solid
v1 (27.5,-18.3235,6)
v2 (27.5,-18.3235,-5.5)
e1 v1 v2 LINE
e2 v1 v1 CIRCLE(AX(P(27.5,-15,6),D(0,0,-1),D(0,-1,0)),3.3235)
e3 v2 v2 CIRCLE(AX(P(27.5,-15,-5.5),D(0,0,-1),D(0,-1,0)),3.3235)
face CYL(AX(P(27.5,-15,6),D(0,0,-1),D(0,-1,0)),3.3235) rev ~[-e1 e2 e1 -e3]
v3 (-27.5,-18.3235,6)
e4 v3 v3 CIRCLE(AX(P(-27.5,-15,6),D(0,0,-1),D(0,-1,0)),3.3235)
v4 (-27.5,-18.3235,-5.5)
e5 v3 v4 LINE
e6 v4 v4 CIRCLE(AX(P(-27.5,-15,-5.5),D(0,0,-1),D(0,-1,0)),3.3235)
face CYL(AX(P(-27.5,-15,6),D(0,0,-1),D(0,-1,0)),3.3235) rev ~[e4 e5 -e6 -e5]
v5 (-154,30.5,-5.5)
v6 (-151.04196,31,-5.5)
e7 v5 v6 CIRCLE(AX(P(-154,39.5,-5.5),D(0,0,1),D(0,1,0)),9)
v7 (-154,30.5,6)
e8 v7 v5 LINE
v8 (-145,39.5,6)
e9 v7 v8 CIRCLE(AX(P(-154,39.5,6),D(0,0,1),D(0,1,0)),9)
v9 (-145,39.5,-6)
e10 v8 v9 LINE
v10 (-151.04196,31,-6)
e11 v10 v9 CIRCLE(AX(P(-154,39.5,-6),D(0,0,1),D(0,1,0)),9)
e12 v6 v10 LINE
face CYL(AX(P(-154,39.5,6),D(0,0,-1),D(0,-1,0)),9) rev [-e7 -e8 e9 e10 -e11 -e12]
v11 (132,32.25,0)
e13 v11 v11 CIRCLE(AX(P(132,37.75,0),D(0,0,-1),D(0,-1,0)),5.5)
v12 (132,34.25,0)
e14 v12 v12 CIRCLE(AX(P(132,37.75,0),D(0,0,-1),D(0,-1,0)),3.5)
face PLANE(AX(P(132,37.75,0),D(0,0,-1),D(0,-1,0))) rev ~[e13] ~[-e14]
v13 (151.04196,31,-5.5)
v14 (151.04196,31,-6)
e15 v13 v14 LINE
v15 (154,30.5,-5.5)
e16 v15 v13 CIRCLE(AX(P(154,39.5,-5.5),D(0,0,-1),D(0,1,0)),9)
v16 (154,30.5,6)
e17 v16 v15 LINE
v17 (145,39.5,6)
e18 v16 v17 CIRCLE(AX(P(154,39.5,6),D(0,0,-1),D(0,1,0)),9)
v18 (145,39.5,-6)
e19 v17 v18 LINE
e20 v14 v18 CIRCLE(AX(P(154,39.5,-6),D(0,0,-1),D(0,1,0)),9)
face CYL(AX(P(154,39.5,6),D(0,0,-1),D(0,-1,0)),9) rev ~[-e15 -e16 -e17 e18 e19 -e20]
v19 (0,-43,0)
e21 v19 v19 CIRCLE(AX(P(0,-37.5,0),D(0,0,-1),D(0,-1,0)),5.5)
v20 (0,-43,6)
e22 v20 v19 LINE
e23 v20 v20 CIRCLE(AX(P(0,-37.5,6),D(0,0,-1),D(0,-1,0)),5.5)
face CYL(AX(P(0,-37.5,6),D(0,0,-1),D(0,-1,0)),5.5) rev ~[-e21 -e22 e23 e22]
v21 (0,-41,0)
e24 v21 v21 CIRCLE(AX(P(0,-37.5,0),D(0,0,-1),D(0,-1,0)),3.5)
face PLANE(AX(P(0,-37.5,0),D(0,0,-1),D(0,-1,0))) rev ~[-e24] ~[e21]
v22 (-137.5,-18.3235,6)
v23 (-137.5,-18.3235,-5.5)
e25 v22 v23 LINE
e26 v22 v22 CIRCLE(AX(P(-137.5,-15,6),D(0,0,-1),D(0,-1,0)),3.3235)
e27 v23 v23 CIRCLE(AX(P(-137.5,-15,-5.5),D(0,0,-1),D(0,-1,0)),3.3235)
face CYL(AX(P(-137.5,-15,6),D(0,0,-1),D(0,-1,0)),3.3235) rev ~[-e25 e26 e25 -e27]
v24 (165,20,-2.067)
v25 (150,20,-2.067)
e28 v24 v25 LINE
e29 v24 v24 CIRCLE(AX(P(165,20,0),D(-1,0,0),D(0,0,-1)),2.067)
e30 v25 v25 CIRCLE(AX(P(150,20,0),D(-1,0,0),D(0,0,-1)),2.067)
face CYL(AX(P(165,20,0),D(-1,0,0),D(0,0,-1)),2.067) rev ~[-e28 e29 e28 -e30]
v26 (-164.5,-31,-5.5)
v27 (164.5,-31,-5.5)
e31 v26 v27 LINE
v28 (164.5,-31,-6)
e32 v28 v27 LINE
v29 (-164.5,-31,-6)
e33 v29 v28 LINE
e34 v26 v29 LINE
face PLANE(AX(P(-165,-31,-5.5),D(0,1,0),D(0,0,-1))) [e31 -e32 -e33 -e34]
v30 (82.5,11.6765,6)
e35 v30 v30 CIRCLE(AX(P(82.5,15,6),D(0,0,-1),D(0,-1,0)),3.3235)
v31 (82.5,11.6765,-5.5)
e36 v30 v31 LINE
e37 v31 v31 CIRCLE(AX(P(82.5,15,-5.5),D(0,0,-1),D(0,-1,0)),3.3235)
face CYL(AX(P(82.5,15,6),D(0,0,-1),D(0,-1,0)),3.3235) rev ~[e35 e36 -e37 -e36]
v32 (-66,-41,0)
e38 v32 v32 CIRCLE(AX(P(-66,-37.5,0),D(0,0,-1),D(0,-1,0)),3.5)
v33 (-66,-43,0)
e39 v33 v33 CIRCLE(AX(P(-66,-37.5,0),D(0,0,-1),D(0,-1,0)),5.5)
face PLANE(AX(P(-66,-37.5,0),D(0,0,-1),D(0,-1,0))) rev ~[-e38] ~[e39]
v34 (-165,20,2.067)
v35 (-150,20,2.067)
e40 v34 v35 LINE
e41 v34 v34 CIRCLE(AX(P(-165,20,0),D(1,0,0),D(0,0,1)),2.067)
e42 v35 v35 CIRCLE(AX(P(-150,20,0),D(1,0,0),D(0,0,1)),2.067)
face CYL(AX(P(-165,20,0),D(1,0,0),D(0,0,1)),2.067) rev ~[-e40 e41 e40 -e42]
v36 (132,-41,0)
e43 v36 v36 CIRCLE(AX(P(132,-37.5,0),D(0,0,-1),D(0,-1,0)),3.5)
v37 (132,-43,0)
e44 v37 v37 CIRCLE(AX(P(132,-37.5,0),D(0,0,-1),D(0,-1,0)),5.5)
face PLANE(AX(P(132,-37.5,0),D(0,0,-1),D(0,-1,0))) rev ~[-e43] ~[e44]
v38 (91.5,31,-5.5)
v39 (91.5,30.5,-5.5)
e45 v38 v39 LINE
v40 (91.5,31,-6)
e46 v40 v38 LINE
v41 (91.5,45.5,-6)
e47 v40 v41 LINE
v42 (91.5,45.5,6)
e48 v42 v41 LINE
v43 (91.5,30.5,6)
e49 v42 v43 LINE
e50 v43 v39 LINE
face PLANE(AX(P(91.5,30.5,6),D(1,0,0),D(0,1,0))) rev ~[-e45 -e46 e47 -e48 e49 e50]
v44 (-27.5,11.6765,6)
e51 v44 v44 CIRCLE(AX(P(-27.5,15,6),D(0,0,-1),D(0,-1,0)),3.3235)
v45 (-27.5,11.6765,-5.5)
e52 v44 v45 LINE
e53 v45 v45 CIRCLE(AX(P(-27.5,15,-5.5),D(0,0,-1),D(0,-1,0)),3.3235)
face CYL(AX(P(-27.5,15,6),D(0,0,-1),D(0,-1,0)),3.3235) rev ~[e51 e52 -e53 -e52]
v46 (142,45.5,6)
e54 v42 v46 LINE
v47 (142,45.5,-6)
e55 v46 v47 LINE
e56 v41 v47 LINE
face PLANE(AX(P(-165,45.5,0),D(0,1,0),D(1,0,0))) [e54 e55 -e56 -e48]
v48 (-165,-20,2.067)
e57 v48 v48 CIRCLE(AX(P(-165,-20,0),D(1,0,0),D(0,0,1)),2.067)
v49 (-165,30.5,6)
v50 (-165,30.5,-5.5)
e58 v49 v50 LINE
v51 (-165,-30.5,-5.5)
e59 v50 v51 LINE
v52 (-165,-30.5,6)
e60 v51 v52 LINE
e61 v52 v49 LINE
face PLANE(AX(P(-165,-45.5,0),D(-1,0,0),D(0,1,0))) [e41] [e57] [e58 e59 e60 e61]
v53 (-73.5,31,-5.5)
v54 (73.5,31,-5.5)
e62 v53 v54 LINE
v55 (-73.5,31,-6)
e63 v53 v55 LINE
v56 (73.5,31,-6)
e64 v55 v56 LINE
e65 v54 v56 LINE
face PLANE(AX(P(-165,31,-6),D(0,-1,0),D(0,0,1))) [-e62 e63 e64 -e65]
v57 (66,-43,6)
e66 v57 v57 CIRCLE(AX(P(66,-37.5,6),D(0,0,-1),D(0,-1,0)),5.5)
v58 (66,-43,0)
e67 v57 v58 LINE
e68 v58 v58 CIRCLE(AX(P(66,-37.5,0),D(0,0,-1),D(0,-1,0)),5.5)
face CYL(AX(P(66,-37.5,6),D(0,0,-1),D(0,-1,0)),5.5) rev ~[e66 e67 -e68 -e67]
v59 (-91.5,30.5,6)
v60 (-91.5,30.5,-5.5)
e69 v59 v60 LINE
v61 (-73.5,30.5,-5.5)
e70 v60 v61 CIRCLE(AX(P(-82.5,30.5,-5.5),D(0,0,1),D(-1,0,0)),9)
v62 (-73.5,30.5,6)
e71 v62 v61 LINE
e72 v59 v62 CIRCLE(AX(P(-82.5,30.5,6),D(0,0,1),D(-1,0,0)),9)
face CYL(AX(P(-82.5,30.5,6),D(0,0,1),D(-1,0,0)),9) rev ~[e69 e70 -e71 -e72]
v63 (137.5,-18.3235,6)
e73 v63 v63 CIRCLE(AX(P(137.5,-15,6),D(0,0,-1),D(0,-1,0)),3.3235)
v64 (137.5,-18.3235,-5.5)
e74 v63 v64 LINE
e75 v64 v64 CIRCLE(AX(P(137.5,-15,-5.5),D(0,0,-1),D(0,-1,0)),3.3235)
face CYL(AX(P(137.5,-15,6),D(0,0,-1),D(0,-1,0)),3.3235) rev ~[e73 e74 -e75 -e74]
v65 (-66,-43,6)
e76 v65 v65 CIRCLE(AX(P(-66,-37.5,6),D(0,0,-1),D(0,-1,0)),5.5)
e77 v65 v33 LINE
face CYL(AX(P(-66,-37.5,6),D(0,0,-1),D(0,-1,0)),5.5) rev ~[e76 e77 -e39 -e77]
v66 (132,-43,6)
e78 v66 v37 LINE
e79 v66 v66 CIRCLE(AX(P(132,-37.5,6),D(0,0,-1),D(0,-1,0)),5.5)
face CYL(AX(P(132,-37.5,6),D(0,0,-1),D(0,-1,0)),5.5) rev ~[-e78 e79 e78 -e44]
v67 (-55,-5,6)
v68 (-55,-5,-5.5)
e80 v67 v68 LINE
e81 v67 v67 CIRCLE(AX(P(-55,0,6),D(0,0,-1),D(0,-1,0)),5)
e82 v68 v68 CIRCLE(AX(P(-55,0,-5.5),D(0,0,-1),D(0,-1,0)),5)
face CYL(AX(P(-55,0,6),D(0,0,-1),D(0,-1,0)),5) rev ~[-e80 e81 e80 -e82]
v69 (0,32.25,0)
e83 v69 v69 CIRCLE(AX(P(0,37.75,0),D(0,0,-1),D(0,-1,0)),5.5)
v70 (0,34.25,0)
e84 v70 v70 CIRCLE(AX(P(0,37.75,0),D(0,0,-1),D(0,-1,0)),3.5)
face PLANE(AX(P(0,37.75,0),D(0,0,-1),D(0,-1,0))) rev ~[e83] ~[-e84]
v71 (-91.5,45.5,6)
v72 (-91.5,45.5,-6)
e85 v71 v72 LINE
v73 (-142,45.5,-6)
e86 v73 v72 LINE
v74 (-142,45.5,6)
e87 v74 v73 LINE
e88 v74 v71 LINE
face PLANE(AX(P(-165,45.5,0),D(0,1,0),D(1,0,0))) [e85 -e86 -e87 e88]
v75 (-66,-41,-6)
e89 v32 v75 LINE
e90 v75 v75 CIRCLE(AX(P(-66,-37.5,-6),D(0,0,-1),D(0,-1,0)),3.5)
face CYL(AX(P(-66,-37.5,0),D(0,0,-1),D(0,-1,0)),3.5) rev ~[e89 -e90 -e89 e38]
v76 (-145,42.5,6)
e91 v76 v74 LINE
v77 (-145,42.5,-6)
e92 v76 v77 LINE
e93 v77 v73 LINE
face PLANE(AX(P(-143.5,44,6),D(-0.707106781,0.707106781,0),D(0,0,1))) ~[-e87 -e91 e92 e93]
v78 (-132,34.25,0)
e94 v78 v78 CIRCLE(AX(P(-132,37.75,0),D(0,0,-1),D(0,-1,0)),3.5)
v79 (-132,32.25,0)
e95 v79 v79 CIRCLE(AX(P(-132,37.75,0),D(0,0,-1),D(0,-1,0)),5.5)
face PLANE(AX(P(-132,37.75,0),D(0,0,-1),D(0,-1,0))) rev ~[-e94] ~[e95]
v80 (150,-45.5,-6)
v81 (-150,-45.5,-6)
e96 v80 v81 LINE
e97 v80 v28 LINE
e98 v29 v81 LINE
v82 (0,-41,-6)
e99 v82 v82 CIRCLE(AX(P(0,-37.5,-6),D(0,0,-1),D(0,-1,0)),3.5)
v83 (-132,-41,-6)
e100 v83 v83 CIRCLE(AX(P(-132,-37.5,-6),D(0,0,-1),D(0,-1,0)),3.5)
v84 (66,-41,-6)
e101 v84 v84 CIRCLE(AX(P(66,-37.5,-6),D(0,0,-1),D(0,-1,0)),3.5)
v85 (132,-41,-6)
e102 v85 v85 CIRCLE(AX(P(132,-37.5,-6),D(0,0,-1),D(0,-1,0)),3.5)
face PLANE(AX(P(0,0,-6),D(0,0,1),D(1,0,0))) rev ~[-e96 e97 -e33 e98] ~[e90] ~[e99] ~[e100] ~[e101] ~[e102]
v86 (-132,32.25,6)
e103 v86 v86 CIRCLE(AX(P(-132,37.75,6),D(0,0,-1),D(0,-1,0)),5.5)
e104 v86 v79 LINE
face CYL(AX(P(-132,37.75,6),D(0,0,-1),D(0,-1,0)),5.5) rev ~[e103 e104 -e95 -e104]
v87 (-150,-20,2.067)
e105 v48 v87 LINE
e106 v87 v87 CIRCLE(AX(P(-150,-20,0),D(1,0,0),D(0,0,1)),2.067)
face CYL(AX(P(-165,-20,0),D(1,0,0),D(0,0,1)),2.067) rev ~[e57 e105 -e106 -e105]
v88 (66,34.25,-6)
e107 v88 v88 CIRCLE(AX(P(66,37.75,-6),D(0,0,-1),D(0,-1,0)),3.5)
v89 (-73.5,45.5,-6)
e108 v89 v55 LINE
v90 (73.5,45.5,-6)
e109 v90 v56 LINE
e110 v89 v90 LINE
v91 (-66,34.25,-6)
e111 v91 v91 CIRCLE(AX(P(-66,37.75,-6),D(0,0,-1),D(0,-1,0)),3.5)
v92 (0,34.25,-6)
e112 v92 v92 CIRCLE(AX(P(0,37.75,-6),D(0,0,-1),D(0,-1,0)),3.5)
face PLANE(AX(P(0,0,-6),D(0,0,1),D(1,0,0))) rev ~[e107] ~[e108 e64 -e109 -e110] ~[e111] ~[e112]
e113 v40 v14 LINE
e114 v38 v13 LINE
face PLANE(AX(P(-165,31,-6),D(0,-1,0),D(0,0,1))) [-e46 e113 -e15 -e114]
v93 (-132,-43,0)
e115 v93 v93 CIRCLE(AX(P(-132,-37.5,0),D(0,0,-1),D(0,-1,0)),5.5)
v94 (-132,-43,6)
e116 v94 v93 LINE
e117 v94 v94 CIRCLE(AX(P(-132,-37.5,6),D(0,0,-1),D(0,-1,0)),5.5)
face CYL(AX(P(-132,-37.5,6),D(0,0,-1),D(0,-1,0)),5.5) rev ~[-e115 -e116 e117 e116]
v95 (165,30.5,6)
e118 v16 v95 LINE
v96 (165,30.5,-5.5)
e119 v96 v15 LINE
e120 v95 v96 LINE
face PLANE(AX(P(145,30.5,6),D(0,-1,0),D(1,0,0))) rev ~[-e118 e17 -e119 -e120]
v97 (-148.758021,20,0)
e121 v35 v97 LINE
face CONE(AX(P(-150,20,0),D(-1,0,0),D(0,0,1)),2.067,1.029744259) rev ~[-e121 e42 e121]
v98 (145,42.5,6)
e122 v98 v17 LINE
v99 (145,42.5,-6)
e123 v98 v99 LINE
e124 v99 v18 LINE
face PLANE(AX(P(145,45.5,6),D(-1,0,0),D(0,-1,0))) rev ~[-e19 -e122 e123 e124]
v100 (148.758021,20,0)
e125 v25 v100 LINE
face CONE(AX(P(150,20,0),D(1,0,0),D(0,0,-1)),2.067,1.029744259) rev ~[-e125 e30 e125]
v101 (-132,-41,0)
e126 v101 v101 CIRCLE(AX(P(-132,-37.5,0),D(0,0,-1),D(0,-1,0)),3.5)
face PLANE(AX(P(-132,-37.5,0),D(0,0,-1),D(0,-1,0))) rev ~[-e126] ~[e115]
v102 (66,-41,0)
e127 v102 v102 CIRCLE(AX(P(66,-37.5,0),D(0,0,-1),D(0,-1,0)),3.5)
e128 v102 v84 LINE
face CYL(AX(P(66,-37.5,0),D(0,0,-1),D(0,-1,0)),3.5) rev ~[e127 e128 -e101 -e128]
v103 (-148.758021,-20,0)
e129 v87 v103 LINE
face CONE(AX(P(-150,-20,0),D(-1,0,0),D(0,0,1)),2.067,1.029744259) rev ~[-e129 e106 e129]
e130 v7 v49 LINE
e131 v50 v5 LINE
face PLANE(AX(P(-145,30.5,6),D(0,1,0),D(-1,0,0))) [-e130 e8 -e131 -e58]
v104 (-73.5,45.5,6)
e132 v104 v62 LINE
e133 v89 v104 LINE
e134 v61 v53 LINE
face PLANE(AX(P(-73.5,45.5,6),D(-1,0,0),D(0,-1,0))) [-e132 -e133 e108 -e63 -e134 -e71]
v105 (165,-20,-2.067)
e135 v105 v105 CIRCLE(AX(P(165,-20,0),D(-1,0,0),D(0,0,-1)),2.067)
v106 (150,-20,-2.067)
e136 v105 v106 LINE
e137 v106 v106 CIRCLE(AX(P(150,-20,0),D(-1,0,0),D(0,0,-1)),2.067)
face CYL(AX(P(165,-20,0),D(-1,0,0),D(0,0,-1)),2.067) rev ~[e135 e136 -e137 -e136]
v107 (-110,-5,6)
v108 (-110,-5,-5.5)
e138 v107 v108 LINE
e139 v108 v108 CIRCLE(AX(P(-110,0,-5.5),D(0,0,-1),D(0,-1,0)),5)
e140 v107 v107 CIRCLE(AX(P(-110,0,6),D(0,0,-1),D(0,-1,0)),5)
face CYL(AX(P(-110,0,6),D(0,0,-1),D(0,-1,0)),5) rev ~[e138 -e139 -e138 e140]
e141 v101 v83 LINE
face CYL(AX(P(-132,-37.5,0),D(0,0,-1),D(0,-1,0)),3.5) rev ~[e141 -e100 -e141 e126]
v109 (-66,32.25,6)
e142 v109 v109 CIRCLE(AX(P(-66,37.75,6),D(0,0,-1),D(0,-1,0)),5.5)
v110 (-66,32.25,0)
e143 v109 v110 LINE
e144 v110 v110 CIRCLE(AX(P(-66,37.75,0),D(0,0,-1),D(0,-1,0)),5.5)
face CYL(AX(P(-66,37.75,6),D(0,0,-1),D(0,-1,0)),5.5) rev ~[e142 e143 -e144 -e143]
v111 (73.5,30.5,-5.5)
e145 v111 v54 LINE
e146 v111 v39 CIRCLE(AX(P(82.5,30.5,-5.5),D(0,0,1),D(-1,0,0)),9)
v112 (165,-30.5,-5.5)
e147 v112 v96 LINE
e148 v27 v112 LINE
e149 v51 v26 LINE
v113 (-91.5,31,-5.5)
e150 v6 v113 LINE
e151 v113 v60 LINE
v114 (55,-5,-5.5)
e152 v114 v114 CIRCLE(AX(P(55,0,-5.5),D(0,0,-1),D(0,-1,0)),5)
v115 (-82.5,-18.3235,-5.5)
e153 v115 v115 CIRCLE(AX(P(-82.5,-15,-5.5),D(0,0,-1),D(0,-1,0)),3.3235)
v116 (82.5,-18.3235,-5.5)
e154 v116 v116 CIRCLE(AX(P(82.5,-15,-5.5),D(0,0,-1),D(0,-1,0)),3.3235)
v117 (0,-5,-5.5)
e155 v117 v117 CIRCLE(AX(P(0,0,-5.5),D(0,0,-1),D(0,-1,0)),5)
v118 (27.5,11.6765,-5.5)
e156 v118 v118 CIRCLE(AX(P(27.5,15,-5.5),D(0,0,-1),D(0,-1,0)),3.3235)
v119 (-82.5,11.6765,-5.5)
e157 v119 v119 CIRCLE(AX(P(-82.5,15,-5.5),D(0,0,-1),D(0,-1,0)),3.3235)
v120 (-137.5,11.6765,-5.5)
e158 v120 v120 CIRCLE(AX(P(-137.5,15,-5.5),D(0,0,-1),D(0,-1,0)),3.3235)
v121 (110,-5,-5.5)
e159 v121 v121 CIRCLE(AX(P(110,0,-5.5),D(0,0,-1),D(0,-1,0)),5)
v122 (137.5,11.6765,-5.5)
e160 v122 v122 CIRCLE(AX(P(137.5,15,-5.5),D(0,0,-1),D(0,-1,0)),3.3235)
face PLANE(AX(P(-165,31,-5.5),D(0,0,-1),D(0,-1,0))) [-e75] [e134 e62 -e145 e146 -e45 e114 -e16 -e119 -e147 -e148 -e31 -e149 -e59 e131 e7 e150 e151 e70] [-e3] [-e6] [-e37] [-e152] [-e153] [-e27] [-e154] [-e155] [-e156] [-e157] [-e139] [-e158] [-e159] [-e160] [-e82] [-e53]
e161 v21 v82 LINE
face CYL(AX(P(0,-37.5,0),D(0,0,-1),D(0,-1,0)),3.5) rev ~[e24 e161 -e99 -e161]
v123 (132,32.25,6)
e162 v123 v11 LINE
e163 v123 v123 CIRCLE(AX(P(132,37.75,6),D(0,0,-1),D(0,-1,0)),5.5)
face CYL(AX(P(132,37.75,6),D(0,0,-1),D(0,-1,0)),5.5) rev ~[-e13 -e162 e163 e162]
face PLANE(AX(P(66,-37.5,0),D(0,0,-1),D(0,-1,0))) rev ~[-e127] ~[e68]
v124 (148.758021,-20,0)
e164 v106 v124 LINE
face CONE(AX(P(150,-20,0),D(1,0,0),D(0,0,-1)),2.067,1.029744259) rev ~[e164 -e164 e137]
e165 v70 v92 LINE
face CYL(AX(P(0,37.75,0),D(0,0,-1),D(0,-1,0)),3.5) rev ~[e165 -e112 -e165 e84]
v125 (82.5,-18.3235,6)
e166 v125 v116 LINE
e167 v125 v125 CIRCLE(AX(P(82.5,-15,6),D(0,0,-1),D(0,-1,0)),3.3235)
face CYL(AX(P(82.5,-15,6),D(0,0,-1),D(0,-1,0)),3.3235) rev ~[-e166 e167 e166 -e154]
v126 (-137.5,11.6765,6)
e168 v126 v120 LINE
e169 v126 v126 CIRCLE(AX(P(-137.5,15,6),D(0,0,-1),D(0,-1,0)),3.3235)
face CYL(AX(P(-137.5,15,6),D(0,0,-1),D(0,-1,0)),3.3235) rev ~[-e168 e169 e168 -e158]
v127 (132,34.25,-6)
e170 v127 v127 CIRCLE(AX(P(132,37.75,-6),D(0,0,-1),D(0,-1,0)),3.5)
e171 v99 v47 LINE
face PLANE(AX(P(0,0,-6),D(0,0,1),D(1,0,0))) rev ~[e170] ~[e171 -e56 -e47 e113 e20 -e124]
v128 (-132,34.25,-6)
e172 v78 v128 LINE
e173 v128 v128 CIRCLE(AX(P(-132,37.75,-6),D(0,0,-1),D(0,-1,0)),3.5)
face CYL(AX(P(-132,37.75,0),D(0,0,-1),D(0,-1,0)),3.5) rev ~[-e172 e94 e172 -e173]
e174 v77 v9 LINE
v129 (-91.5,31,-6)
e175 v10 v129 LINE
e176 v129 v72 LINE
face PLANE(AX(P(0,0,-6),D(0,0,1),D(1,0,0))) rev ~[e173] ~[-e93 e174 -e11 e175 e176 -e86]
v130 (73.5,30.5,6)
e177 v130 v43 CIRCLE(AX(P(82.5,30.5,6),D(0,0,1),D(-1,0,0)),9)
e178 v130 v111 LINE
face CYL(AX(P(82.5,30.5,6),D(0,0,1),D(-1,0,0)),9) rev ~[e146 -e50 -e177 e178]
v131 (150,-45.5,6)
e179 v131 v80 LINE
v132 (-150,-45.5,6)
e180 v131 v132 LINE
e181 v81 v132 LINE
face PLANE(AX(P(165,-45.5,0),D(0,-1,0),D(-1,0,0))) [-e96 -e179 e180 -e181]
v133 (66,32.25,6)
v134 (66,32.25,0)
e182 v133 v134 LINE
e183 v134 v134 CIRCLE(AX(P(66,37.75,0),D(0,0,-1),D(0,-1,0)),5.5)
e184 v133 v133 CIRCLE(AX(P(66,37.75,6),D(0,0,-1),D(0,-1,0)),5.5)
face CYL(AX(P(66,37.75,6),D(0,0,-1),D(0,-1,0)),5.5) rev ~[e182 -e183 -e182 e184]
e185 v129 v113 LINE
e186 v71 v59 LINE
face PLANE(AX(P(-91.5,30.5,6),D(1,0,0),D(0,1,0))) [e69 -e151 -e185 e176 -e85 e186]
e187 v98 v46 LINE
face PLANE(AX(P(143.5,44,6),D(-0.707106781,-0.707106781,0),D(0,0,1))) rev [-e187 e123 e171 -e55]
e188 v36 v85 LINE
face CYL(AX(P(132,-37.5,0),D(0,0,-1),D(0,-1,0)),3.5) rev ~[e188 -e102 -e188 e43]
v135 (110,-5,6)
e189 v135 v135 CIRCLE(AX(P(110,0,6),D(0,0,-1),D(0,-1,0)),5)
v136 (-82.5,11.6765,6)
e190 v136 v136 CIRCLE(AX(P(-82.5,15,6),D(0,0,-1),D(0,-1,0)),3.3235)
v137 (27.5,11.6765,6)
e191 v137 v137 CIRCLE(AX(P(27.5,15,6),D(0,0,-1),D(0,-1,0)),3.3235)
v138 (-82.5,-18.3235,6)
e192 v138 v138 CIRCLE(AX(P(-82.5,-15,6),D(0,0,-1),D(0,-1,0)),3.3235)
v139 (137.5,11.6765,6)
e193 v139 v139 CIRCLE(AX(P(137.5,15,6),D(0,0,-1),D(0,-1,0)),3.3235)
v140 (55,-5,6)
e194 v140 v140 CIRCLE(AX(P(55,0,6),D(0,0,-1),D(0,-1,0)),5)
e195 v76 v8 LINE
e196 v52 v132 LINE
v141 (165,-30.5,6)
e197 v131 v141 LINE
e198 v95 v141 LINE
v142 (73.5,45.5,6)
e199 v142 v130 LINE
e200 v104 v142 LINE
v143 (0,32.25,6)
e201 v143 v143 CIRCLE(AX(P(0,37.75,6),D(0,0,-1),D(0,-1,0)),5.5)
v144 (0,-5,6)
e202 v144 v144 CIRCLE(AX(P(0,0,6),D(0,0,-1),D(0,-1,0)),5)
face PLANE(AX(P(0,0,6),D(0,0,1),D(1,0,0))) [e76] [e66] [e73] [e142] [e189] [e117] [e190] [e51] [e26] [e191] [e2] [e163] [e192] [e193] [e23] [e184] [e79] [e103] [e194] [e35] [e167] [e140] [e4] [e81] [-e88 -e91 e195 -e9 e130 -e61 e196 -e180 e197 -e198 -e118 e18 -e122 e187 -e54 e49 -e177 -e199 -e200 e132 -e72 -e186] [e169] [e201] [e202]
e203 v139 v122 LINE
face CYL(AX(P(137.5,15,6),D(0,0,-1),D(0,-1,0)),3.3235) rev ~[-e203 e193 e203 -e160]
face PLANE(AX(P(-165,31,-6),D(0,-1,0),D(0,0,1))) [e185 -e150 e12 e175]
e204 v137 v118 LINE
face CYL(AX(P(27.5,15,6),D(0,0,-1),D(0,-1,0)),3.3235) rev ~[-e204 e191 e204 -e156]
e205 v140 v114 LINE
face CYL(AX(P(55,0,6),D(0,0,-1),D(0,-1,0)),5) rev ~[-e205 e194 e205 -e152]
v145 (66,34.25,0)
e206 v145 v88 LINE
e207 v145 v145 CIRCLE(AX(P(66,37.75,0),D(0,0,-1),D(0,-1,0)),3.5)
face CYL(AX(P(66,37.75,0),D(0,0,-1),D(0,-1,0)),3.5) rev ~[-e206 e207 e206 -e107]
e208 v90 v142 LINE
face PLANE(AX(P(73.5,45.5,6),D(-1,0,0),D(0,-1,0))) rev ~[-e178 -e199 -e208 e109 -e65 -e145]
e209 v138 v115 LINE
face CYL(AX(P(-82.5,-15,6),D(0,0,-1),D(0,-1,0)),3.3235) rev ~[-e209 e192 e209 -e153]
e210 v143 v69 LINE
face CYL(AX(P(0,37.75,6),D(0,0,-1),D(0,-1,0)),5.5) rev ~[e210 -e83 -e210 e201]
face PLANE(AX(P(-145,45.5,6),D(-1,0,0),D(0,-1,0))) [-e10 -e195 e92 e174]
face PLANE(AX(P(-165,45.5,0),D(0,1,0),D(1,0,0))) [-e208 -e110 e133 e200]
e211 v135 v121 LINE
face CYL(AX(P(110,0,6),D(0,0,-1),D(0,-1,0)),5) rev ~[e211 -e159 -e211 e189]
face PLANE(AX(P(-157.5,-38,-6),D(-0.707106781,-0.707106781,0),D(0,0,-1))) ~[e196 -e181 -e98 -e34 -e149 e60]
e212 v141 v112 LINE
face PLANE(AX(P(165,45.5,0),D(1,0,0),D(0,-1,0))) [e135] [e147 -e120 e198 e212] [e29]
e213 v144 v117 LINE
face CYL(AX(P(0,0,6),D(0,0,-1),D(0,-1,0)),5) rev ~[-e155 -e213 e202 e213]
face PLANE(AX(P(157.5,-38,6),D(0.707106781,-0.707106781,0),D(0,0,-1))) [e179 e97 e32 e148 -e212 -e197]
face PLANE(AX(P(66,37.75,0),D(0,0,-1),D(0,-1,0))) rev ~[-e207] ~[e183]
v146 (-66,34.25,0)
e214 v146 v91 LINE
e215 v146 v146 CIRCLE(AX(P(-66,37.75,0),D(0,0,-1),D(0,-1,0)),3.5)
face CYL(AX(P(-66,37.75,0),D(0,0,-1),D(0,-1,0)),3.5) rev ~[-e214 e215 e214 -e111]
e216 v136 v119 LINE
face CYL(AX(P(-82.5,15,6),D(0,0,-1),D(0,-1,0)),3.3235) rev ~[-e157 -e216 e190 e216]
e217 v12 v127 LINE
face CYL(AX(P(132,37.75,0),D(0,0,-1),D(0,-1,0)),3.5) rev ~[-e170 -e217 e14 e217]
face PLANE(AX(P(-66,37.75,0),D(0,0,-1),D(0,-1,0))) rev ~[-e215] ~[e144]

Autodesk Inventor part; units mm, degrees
ref_plane "YZ Plane" through (0, 0, 0) normal (1, 0, 0) x (0, 1, 0)
ref_plane "XZ Plane" through (0, 0, 0) normal (0, 1, 0) x (-1, 0, 0)
ref_plane "XY Plane" through (0, 0, 0) normal (0, 0, 1) x (1, 0, 0)
sketch "Sketch5" plane through (0, 0, 0) normal (0, 0, 1) x (1, 0, 0)
  line L0 (-165, 45.5) -> (165, 45.5)
  line L1 (165, 45.5) -> (165, -45.5)
  line L2 (165, -45.5) -> (-165, -45.5)
  line L3 (-165, -45.5) -> (-165, 45.5)
  point P0 (0, 0)
  point P1 (0, 45.5)
  point P2 (165, 0)
  dimension "d8" = 330
  dimension "d9" = 91
extrude "Extrusion5" add sketch "Sketch5" along normal mid plane 12
sketch "Sketch6" plane through (0, 0, 6) normal (0, 0, 1) x (1, 0, 0)
  circle A0 centre (132, -37.5) radius 3
  circle A1 centre (66, -37.5) radius 3
  circle A2 centre (-66, -37.5) radius 3
  circle A3 centre (-132, -37.5) radius 3
  circle A4 centre (0, -37.5) radius 3
  circle A5 centre (132, 37.75) radius 3
  circle A6 centre (66, 37.75) radius 3
  circle A7 centre (-66, 37.75) radius 3
  circle A8 centre (-132, 37.75) radius 3
  circle A9 centre (0, 37.75) radius 3
  line L0 (165, 45.5) -> (-165, 45.5) projected
  circle A10 centre (132, -37.5) radius 5
  point P0 (-165, -45.5)
  point P1 (0, 0)
  dimension "d12" = 66
  dimension "d13" = 66
  dimension "d14" = 66
  dimension "d17" = 6
  dimension "d20" = 66
  dimension "d22" = 66
  dimension "d23" = 66
  dimension "d24" = 66
  dimension "d25" = 6
  dimension "d26" = 66
  dimension "d27" = 75.25
  dimension "d64" = 7.75
  dimension "d65" = 91
  dimension "d103" = 10
hole "Hole1" at (-132, 37.75, 6) at (132, 37.75, 6) at (66, 37.75, 6) at (0, 37.75, 6) at (-66, 37.75, 6) at (132, -37.5, 6) at (66, -37.5, 6) at (0, -37.5, 6) at (-66, -37.5, 6) at (-132, -37.5, 6) direction (0, 0, -1) diameter 7 end through all counterbore diameter 11 counterbore depth 6 clearance for "Socket Head Cap Screw DIN EN ISO 4762" size "M6" standard "DIN"
sketch "Sketch7" plane through (0, 0, 6) normal (0, 0, 1) x (1, 0, 0)
  line L0 (-165, 45.5) -> (-165, -45.5) projected
  line L1 (-165, -45.5) -> (165, -45.5) projected
  line L2 (165, -45.5) -> (165, 45.5) projected
  circle A0 centre (137.5, -15) radius 4
  circle A1 centre (137.5, 15) radius 4
  circle A2 centre (82.5, -15) radius 4
  circle A3 centre (82.5, 15) radius 4
  circle A4 centre (27.5, -15) radius 4
  circle A5 centre (27.5, 15) radius 4
  circle A6 centre (-27.5, -15) radius 4
  circle A7 centre (-27.5, 15) radius 4
  circle A8 centre (-82.5, -15) radius 4
  circle A9 centre (-82.5, 15) radius 4
  circle A10 centre (-137.5, -15) radius 4
  circle A11 centre (-137.5, 15) radius 4
  point P0 (0, 0)
  dimension "d35" = 27.5
  dimension "d36" = 30
  dimension "d37" = 15
  dimension "d38" = 8
  dimension "d41" = 55
  dimension "d46" = 27.5
hole "Hole2" at (137.5, -15, 6) at (137.5, 15, 6) at (82.5, 15, 6) at (82.5, -15, 6) at (27.5, -15, 6) at (27.5, 15, 6) at (-27.5, 15, 6) at (-27.5, -15, 6) at (-82.5, -15, 6) at (-82.5, 15, 6) at (-137.5, 15, 6) at (-137.5, -15, 6) direction (0, 0, -1) diameter 6.647 end through all thread size "M8x1.25" class "6H" standard "ISO Metric profile"
sketch "Sketch8" plane through (-165, -45.5, 6) normal (-1, 0, 0) x (0, 0, 1)
  line L0 (-12, 0) -> (-12, 91) projected
  line L1 (-11.5, 14.5) -> (-12, 14.5)
  line L2 (-12, 14.5) -> (-12, 76.5)
  line L3 (-12, 76.5) -> (-11.5, 76.5)
  line L4 (-11.5, 76.5) -> (-11.5, 14.5)
  point P0 (-6, 45.5)
  point P1 (-11.5, 45.5)
  dimension "d54" = 0.5
  dimension "d55" = 62
extrude "Extrusion6" cut sketch "Sketch8" against normal through all
sketch "Sketch9" plane through (0, 0, 6) normal (0, 0, 1) x (1, 0, 0)
  circle A0 centre (66, 37.75) radius 3.5
  line L0 (165, 45.5) -> (-165, 45.5)
  line L1 (82.5, 30.5) -> (82.5, 60.5) construction
  line L2 (91.5, 30.5) -> (91.5, 60.5)
  line L3 (73.5, 60.5) -> (73.5, 30.5)
  arc A1 (73.5, 30.5) -> (91.5, 30.5) centre (82.5, 30.5) ccw
  arc A2 (91.5, 60.5) -> (73.5, 60.5) centre (82.5, 60.5) ccw
  line L4 (0, 0) -> (0, 10.6364) construction
  line L5 (0, 0) -> (-13.5916, 0) construction
  line L6 (-82.5, 30.5) -> (-82.5, 60.5) construction
  line L7 (-91.5, 30.5) -> (-91.5, 60.5)
  line L8 (-73.5, 60.5) -> (-73.5, 30.5)
  arc A3 (-91.5, 30.5) -> (-73.5, 30.5) centre (-82.5, 30.5) ccw
  arc A4 (-73.5, 60.5) -> (-91.5, 60.5) centre (-82.5, 60.5) ccw
  circle A5 centre (-137.5, 15) radius 3.3235 projected
  circle A6 centre (-82.5, -15) radius 3.3235 projected
  circle A7 centre (-27.5, 15) radius 3.3235 projected
  circle A8 centre (27.5, -15) radius 3.3235 projected
  circle A9 centre (82.5, 15) radius 3.3235 projected
  circle A10 centre (137.5, -15) radius 3.3235 projected
  circle A11 centre (137.5, 15) radius 3.3235 projected
  circle A12 centre (82.5, -15) radius 3.3235 projected
  circle A13 centre (27.5, 15) radius 3.3235 projected
  circle A14 centre (-27.5, -15) radius 3.3235 projected
  circle A15 centre (-82.5, 15) radius 3.3235 projected
  circle A16 centre (-137.5, -15) radius 3.3235 projected
  circle A17 centre (-66, -37.5) radius 5.5 projected
  circle A18 centre (66, -37.5) radius 5.5 projected
  circle A19 centre (-66, 37.75) radius 5.5 projected
  circle A20 centre (66, 37.75) radius 5.5 projected
  circle A21 centre (-132, 37.75) radius 5.5 projected
  circle A22 centre (132, 37.75) radius 5.5 projected
  circle A23 centre (0, 37.75) radius 5.5 projected
  circle A24 centre (132, -37.5) radius 5.5 projected
  circle A25 centre (0, -37.5) radius 5.5 projected
  circle A26 centre (-132, -37.5) radius 5.5 projected
  line L9 (165, 45.5) -> (-165, 45.5) projected
  line L10 (-165, 45.5) -> (-165, -45.5) projected
  line L11 (-165, -45.5) -> (165, -45.5) projected
  line L12 (165, -45.5) -> (165, 45.5) projected
  point P0 (82.5, 45.5)
  point P1 (-82.5, 45.5)
  dimension "d58" = 16.5
  dimension "d59" = 30
  dimension "d61" = 18
extrude "Extrusion7" cut sketch "Sketch9" against normal through all contours L2 A1 L3 L0 | L0 L3 A2 L2 | L8 A3 L7 L0 | L0 L7 A4 L8
sketch "Sketch10" plane through (0, 0, 6) normal (0, 0, 1) x (1, 0, 0)
  line L0 (-165, -45.5) -> (165, -45.5) projected
  line L1 (165, -45.5) -> (165, 45.5) projected
  circle A0 centre (110, 0) radius 5
  circle A1 centre (55, 0) radius 5
  circle A2 centre (0, 0) radius 5
  circle A3 centre (-55, 0) radius 5
  circle A4 centre (-110, 0) radius 5
  dimension "d66" = 55
  dimension "d70" = 55
  dimension "d75" = 10
hole "Hole3" at (110, 0, 6) at (55, 0, 6) at (0, 0, 6) at (-55, 0, 6) at (-110, 0, 6) direction (0, 0, -1) diameter 10 end through all
sketch "Sketch11" plane through (165, -31, -5.5) normal (1, 0, 0) x (0, 0, -1)
  circle A0 centre (-5.5, 11) radius 3
  circle A1 centre (-5.5, 51) radius 3
  point P0 (-5.5, 31)
  dimension "d86" = 40
  dimension "d87" = 20
  dimension "d88" = 6
hole "Hole4" at (165, -20, 0) at (165, 20, 0) direction (-1, 0, 0) diameter 4.134 depth 15 tip angle 118 thread size "M5x0.8" class "6H" standard "ISO Metric profile"
sketch "Sketch12" plane through (-165, -31, -5.5) normal (-1, 0, 0) x (0, 0, 1)
  circle A0 centre (5.5, 11) radius 2.067
  circle A1 centre (5.5, 51) radius 2.067
  circle A2 centre (5.5, 11) radius 2.067 projected
  circle A3 centre (5.5, 51) radius 2.067 projected
  point P0 (5.5, 31)
hole "Hole5" at (-165, -20, 0) at (-165, 20, 0) direction (1, 0, 0) diameter 4.134 depth 15 tip angle 118 thread size "M5x0.8" class "6H" standard "ISO Metric profile"
chamfer "Chamfer2" distance 15 angle 45 2 edges at (165, -45.5, 0) (-165, -45.5, 0)
sketch "Sketch13" plane through (0, 0, 6) normal (0, 0, 1) x (1, 0, 0)
  circle A0 centre (0, 37.75) radius 5.5 projected
  line L0 (165, 45.5) -> (145, 45.5)
  line L1 (145, 45.5) -> (145, 30.5)
  line L2 (145, 30.5) -> (165, 30.5)
  line L3 (165, 30.5) -> (165, 45.5)
  line L4 (0, 37.75) -> (0, 63.3817) construction
  line L5 (-165, 45.5) -> (-145, 45.5)
  line L6 (-145, 45.5) -> (-145, 30.5)
  line L7 (-145, 30.5) -> (-165, 30.5)
  line L8 (-165, 30.5) -> (-165, 45.5)
  dimension "d107" = 15
  dimension "d108" = 20
extrude "Extrusion8" cut sketch "Sketch13" against normal through all contours L3 L2 L1 L0 | L5 L6 L7 L8
fillet "Fillet1" radius 9 2 edges at (145, 30.5, 0.25) (-145, 30.5, 0.25)
chamfer "Chamfer3" distance 3 angle 45 2 edges at (145, 45.5, 0) (-145, 45.5, 0)
equation "\"d13\" = d12"
equation "\"d14\" = d12"
equation "\"d20\" = d12"
equation "\"d23\" = d22"
equation "\"d24\" = d22"
equation "\"d26\" = d22"
equation "\"d37\" = 0.5 * d36"
equation "\"d87\" = 0.5 * d86"
properties part number "BC-10017" material "Alumínio 7075"
